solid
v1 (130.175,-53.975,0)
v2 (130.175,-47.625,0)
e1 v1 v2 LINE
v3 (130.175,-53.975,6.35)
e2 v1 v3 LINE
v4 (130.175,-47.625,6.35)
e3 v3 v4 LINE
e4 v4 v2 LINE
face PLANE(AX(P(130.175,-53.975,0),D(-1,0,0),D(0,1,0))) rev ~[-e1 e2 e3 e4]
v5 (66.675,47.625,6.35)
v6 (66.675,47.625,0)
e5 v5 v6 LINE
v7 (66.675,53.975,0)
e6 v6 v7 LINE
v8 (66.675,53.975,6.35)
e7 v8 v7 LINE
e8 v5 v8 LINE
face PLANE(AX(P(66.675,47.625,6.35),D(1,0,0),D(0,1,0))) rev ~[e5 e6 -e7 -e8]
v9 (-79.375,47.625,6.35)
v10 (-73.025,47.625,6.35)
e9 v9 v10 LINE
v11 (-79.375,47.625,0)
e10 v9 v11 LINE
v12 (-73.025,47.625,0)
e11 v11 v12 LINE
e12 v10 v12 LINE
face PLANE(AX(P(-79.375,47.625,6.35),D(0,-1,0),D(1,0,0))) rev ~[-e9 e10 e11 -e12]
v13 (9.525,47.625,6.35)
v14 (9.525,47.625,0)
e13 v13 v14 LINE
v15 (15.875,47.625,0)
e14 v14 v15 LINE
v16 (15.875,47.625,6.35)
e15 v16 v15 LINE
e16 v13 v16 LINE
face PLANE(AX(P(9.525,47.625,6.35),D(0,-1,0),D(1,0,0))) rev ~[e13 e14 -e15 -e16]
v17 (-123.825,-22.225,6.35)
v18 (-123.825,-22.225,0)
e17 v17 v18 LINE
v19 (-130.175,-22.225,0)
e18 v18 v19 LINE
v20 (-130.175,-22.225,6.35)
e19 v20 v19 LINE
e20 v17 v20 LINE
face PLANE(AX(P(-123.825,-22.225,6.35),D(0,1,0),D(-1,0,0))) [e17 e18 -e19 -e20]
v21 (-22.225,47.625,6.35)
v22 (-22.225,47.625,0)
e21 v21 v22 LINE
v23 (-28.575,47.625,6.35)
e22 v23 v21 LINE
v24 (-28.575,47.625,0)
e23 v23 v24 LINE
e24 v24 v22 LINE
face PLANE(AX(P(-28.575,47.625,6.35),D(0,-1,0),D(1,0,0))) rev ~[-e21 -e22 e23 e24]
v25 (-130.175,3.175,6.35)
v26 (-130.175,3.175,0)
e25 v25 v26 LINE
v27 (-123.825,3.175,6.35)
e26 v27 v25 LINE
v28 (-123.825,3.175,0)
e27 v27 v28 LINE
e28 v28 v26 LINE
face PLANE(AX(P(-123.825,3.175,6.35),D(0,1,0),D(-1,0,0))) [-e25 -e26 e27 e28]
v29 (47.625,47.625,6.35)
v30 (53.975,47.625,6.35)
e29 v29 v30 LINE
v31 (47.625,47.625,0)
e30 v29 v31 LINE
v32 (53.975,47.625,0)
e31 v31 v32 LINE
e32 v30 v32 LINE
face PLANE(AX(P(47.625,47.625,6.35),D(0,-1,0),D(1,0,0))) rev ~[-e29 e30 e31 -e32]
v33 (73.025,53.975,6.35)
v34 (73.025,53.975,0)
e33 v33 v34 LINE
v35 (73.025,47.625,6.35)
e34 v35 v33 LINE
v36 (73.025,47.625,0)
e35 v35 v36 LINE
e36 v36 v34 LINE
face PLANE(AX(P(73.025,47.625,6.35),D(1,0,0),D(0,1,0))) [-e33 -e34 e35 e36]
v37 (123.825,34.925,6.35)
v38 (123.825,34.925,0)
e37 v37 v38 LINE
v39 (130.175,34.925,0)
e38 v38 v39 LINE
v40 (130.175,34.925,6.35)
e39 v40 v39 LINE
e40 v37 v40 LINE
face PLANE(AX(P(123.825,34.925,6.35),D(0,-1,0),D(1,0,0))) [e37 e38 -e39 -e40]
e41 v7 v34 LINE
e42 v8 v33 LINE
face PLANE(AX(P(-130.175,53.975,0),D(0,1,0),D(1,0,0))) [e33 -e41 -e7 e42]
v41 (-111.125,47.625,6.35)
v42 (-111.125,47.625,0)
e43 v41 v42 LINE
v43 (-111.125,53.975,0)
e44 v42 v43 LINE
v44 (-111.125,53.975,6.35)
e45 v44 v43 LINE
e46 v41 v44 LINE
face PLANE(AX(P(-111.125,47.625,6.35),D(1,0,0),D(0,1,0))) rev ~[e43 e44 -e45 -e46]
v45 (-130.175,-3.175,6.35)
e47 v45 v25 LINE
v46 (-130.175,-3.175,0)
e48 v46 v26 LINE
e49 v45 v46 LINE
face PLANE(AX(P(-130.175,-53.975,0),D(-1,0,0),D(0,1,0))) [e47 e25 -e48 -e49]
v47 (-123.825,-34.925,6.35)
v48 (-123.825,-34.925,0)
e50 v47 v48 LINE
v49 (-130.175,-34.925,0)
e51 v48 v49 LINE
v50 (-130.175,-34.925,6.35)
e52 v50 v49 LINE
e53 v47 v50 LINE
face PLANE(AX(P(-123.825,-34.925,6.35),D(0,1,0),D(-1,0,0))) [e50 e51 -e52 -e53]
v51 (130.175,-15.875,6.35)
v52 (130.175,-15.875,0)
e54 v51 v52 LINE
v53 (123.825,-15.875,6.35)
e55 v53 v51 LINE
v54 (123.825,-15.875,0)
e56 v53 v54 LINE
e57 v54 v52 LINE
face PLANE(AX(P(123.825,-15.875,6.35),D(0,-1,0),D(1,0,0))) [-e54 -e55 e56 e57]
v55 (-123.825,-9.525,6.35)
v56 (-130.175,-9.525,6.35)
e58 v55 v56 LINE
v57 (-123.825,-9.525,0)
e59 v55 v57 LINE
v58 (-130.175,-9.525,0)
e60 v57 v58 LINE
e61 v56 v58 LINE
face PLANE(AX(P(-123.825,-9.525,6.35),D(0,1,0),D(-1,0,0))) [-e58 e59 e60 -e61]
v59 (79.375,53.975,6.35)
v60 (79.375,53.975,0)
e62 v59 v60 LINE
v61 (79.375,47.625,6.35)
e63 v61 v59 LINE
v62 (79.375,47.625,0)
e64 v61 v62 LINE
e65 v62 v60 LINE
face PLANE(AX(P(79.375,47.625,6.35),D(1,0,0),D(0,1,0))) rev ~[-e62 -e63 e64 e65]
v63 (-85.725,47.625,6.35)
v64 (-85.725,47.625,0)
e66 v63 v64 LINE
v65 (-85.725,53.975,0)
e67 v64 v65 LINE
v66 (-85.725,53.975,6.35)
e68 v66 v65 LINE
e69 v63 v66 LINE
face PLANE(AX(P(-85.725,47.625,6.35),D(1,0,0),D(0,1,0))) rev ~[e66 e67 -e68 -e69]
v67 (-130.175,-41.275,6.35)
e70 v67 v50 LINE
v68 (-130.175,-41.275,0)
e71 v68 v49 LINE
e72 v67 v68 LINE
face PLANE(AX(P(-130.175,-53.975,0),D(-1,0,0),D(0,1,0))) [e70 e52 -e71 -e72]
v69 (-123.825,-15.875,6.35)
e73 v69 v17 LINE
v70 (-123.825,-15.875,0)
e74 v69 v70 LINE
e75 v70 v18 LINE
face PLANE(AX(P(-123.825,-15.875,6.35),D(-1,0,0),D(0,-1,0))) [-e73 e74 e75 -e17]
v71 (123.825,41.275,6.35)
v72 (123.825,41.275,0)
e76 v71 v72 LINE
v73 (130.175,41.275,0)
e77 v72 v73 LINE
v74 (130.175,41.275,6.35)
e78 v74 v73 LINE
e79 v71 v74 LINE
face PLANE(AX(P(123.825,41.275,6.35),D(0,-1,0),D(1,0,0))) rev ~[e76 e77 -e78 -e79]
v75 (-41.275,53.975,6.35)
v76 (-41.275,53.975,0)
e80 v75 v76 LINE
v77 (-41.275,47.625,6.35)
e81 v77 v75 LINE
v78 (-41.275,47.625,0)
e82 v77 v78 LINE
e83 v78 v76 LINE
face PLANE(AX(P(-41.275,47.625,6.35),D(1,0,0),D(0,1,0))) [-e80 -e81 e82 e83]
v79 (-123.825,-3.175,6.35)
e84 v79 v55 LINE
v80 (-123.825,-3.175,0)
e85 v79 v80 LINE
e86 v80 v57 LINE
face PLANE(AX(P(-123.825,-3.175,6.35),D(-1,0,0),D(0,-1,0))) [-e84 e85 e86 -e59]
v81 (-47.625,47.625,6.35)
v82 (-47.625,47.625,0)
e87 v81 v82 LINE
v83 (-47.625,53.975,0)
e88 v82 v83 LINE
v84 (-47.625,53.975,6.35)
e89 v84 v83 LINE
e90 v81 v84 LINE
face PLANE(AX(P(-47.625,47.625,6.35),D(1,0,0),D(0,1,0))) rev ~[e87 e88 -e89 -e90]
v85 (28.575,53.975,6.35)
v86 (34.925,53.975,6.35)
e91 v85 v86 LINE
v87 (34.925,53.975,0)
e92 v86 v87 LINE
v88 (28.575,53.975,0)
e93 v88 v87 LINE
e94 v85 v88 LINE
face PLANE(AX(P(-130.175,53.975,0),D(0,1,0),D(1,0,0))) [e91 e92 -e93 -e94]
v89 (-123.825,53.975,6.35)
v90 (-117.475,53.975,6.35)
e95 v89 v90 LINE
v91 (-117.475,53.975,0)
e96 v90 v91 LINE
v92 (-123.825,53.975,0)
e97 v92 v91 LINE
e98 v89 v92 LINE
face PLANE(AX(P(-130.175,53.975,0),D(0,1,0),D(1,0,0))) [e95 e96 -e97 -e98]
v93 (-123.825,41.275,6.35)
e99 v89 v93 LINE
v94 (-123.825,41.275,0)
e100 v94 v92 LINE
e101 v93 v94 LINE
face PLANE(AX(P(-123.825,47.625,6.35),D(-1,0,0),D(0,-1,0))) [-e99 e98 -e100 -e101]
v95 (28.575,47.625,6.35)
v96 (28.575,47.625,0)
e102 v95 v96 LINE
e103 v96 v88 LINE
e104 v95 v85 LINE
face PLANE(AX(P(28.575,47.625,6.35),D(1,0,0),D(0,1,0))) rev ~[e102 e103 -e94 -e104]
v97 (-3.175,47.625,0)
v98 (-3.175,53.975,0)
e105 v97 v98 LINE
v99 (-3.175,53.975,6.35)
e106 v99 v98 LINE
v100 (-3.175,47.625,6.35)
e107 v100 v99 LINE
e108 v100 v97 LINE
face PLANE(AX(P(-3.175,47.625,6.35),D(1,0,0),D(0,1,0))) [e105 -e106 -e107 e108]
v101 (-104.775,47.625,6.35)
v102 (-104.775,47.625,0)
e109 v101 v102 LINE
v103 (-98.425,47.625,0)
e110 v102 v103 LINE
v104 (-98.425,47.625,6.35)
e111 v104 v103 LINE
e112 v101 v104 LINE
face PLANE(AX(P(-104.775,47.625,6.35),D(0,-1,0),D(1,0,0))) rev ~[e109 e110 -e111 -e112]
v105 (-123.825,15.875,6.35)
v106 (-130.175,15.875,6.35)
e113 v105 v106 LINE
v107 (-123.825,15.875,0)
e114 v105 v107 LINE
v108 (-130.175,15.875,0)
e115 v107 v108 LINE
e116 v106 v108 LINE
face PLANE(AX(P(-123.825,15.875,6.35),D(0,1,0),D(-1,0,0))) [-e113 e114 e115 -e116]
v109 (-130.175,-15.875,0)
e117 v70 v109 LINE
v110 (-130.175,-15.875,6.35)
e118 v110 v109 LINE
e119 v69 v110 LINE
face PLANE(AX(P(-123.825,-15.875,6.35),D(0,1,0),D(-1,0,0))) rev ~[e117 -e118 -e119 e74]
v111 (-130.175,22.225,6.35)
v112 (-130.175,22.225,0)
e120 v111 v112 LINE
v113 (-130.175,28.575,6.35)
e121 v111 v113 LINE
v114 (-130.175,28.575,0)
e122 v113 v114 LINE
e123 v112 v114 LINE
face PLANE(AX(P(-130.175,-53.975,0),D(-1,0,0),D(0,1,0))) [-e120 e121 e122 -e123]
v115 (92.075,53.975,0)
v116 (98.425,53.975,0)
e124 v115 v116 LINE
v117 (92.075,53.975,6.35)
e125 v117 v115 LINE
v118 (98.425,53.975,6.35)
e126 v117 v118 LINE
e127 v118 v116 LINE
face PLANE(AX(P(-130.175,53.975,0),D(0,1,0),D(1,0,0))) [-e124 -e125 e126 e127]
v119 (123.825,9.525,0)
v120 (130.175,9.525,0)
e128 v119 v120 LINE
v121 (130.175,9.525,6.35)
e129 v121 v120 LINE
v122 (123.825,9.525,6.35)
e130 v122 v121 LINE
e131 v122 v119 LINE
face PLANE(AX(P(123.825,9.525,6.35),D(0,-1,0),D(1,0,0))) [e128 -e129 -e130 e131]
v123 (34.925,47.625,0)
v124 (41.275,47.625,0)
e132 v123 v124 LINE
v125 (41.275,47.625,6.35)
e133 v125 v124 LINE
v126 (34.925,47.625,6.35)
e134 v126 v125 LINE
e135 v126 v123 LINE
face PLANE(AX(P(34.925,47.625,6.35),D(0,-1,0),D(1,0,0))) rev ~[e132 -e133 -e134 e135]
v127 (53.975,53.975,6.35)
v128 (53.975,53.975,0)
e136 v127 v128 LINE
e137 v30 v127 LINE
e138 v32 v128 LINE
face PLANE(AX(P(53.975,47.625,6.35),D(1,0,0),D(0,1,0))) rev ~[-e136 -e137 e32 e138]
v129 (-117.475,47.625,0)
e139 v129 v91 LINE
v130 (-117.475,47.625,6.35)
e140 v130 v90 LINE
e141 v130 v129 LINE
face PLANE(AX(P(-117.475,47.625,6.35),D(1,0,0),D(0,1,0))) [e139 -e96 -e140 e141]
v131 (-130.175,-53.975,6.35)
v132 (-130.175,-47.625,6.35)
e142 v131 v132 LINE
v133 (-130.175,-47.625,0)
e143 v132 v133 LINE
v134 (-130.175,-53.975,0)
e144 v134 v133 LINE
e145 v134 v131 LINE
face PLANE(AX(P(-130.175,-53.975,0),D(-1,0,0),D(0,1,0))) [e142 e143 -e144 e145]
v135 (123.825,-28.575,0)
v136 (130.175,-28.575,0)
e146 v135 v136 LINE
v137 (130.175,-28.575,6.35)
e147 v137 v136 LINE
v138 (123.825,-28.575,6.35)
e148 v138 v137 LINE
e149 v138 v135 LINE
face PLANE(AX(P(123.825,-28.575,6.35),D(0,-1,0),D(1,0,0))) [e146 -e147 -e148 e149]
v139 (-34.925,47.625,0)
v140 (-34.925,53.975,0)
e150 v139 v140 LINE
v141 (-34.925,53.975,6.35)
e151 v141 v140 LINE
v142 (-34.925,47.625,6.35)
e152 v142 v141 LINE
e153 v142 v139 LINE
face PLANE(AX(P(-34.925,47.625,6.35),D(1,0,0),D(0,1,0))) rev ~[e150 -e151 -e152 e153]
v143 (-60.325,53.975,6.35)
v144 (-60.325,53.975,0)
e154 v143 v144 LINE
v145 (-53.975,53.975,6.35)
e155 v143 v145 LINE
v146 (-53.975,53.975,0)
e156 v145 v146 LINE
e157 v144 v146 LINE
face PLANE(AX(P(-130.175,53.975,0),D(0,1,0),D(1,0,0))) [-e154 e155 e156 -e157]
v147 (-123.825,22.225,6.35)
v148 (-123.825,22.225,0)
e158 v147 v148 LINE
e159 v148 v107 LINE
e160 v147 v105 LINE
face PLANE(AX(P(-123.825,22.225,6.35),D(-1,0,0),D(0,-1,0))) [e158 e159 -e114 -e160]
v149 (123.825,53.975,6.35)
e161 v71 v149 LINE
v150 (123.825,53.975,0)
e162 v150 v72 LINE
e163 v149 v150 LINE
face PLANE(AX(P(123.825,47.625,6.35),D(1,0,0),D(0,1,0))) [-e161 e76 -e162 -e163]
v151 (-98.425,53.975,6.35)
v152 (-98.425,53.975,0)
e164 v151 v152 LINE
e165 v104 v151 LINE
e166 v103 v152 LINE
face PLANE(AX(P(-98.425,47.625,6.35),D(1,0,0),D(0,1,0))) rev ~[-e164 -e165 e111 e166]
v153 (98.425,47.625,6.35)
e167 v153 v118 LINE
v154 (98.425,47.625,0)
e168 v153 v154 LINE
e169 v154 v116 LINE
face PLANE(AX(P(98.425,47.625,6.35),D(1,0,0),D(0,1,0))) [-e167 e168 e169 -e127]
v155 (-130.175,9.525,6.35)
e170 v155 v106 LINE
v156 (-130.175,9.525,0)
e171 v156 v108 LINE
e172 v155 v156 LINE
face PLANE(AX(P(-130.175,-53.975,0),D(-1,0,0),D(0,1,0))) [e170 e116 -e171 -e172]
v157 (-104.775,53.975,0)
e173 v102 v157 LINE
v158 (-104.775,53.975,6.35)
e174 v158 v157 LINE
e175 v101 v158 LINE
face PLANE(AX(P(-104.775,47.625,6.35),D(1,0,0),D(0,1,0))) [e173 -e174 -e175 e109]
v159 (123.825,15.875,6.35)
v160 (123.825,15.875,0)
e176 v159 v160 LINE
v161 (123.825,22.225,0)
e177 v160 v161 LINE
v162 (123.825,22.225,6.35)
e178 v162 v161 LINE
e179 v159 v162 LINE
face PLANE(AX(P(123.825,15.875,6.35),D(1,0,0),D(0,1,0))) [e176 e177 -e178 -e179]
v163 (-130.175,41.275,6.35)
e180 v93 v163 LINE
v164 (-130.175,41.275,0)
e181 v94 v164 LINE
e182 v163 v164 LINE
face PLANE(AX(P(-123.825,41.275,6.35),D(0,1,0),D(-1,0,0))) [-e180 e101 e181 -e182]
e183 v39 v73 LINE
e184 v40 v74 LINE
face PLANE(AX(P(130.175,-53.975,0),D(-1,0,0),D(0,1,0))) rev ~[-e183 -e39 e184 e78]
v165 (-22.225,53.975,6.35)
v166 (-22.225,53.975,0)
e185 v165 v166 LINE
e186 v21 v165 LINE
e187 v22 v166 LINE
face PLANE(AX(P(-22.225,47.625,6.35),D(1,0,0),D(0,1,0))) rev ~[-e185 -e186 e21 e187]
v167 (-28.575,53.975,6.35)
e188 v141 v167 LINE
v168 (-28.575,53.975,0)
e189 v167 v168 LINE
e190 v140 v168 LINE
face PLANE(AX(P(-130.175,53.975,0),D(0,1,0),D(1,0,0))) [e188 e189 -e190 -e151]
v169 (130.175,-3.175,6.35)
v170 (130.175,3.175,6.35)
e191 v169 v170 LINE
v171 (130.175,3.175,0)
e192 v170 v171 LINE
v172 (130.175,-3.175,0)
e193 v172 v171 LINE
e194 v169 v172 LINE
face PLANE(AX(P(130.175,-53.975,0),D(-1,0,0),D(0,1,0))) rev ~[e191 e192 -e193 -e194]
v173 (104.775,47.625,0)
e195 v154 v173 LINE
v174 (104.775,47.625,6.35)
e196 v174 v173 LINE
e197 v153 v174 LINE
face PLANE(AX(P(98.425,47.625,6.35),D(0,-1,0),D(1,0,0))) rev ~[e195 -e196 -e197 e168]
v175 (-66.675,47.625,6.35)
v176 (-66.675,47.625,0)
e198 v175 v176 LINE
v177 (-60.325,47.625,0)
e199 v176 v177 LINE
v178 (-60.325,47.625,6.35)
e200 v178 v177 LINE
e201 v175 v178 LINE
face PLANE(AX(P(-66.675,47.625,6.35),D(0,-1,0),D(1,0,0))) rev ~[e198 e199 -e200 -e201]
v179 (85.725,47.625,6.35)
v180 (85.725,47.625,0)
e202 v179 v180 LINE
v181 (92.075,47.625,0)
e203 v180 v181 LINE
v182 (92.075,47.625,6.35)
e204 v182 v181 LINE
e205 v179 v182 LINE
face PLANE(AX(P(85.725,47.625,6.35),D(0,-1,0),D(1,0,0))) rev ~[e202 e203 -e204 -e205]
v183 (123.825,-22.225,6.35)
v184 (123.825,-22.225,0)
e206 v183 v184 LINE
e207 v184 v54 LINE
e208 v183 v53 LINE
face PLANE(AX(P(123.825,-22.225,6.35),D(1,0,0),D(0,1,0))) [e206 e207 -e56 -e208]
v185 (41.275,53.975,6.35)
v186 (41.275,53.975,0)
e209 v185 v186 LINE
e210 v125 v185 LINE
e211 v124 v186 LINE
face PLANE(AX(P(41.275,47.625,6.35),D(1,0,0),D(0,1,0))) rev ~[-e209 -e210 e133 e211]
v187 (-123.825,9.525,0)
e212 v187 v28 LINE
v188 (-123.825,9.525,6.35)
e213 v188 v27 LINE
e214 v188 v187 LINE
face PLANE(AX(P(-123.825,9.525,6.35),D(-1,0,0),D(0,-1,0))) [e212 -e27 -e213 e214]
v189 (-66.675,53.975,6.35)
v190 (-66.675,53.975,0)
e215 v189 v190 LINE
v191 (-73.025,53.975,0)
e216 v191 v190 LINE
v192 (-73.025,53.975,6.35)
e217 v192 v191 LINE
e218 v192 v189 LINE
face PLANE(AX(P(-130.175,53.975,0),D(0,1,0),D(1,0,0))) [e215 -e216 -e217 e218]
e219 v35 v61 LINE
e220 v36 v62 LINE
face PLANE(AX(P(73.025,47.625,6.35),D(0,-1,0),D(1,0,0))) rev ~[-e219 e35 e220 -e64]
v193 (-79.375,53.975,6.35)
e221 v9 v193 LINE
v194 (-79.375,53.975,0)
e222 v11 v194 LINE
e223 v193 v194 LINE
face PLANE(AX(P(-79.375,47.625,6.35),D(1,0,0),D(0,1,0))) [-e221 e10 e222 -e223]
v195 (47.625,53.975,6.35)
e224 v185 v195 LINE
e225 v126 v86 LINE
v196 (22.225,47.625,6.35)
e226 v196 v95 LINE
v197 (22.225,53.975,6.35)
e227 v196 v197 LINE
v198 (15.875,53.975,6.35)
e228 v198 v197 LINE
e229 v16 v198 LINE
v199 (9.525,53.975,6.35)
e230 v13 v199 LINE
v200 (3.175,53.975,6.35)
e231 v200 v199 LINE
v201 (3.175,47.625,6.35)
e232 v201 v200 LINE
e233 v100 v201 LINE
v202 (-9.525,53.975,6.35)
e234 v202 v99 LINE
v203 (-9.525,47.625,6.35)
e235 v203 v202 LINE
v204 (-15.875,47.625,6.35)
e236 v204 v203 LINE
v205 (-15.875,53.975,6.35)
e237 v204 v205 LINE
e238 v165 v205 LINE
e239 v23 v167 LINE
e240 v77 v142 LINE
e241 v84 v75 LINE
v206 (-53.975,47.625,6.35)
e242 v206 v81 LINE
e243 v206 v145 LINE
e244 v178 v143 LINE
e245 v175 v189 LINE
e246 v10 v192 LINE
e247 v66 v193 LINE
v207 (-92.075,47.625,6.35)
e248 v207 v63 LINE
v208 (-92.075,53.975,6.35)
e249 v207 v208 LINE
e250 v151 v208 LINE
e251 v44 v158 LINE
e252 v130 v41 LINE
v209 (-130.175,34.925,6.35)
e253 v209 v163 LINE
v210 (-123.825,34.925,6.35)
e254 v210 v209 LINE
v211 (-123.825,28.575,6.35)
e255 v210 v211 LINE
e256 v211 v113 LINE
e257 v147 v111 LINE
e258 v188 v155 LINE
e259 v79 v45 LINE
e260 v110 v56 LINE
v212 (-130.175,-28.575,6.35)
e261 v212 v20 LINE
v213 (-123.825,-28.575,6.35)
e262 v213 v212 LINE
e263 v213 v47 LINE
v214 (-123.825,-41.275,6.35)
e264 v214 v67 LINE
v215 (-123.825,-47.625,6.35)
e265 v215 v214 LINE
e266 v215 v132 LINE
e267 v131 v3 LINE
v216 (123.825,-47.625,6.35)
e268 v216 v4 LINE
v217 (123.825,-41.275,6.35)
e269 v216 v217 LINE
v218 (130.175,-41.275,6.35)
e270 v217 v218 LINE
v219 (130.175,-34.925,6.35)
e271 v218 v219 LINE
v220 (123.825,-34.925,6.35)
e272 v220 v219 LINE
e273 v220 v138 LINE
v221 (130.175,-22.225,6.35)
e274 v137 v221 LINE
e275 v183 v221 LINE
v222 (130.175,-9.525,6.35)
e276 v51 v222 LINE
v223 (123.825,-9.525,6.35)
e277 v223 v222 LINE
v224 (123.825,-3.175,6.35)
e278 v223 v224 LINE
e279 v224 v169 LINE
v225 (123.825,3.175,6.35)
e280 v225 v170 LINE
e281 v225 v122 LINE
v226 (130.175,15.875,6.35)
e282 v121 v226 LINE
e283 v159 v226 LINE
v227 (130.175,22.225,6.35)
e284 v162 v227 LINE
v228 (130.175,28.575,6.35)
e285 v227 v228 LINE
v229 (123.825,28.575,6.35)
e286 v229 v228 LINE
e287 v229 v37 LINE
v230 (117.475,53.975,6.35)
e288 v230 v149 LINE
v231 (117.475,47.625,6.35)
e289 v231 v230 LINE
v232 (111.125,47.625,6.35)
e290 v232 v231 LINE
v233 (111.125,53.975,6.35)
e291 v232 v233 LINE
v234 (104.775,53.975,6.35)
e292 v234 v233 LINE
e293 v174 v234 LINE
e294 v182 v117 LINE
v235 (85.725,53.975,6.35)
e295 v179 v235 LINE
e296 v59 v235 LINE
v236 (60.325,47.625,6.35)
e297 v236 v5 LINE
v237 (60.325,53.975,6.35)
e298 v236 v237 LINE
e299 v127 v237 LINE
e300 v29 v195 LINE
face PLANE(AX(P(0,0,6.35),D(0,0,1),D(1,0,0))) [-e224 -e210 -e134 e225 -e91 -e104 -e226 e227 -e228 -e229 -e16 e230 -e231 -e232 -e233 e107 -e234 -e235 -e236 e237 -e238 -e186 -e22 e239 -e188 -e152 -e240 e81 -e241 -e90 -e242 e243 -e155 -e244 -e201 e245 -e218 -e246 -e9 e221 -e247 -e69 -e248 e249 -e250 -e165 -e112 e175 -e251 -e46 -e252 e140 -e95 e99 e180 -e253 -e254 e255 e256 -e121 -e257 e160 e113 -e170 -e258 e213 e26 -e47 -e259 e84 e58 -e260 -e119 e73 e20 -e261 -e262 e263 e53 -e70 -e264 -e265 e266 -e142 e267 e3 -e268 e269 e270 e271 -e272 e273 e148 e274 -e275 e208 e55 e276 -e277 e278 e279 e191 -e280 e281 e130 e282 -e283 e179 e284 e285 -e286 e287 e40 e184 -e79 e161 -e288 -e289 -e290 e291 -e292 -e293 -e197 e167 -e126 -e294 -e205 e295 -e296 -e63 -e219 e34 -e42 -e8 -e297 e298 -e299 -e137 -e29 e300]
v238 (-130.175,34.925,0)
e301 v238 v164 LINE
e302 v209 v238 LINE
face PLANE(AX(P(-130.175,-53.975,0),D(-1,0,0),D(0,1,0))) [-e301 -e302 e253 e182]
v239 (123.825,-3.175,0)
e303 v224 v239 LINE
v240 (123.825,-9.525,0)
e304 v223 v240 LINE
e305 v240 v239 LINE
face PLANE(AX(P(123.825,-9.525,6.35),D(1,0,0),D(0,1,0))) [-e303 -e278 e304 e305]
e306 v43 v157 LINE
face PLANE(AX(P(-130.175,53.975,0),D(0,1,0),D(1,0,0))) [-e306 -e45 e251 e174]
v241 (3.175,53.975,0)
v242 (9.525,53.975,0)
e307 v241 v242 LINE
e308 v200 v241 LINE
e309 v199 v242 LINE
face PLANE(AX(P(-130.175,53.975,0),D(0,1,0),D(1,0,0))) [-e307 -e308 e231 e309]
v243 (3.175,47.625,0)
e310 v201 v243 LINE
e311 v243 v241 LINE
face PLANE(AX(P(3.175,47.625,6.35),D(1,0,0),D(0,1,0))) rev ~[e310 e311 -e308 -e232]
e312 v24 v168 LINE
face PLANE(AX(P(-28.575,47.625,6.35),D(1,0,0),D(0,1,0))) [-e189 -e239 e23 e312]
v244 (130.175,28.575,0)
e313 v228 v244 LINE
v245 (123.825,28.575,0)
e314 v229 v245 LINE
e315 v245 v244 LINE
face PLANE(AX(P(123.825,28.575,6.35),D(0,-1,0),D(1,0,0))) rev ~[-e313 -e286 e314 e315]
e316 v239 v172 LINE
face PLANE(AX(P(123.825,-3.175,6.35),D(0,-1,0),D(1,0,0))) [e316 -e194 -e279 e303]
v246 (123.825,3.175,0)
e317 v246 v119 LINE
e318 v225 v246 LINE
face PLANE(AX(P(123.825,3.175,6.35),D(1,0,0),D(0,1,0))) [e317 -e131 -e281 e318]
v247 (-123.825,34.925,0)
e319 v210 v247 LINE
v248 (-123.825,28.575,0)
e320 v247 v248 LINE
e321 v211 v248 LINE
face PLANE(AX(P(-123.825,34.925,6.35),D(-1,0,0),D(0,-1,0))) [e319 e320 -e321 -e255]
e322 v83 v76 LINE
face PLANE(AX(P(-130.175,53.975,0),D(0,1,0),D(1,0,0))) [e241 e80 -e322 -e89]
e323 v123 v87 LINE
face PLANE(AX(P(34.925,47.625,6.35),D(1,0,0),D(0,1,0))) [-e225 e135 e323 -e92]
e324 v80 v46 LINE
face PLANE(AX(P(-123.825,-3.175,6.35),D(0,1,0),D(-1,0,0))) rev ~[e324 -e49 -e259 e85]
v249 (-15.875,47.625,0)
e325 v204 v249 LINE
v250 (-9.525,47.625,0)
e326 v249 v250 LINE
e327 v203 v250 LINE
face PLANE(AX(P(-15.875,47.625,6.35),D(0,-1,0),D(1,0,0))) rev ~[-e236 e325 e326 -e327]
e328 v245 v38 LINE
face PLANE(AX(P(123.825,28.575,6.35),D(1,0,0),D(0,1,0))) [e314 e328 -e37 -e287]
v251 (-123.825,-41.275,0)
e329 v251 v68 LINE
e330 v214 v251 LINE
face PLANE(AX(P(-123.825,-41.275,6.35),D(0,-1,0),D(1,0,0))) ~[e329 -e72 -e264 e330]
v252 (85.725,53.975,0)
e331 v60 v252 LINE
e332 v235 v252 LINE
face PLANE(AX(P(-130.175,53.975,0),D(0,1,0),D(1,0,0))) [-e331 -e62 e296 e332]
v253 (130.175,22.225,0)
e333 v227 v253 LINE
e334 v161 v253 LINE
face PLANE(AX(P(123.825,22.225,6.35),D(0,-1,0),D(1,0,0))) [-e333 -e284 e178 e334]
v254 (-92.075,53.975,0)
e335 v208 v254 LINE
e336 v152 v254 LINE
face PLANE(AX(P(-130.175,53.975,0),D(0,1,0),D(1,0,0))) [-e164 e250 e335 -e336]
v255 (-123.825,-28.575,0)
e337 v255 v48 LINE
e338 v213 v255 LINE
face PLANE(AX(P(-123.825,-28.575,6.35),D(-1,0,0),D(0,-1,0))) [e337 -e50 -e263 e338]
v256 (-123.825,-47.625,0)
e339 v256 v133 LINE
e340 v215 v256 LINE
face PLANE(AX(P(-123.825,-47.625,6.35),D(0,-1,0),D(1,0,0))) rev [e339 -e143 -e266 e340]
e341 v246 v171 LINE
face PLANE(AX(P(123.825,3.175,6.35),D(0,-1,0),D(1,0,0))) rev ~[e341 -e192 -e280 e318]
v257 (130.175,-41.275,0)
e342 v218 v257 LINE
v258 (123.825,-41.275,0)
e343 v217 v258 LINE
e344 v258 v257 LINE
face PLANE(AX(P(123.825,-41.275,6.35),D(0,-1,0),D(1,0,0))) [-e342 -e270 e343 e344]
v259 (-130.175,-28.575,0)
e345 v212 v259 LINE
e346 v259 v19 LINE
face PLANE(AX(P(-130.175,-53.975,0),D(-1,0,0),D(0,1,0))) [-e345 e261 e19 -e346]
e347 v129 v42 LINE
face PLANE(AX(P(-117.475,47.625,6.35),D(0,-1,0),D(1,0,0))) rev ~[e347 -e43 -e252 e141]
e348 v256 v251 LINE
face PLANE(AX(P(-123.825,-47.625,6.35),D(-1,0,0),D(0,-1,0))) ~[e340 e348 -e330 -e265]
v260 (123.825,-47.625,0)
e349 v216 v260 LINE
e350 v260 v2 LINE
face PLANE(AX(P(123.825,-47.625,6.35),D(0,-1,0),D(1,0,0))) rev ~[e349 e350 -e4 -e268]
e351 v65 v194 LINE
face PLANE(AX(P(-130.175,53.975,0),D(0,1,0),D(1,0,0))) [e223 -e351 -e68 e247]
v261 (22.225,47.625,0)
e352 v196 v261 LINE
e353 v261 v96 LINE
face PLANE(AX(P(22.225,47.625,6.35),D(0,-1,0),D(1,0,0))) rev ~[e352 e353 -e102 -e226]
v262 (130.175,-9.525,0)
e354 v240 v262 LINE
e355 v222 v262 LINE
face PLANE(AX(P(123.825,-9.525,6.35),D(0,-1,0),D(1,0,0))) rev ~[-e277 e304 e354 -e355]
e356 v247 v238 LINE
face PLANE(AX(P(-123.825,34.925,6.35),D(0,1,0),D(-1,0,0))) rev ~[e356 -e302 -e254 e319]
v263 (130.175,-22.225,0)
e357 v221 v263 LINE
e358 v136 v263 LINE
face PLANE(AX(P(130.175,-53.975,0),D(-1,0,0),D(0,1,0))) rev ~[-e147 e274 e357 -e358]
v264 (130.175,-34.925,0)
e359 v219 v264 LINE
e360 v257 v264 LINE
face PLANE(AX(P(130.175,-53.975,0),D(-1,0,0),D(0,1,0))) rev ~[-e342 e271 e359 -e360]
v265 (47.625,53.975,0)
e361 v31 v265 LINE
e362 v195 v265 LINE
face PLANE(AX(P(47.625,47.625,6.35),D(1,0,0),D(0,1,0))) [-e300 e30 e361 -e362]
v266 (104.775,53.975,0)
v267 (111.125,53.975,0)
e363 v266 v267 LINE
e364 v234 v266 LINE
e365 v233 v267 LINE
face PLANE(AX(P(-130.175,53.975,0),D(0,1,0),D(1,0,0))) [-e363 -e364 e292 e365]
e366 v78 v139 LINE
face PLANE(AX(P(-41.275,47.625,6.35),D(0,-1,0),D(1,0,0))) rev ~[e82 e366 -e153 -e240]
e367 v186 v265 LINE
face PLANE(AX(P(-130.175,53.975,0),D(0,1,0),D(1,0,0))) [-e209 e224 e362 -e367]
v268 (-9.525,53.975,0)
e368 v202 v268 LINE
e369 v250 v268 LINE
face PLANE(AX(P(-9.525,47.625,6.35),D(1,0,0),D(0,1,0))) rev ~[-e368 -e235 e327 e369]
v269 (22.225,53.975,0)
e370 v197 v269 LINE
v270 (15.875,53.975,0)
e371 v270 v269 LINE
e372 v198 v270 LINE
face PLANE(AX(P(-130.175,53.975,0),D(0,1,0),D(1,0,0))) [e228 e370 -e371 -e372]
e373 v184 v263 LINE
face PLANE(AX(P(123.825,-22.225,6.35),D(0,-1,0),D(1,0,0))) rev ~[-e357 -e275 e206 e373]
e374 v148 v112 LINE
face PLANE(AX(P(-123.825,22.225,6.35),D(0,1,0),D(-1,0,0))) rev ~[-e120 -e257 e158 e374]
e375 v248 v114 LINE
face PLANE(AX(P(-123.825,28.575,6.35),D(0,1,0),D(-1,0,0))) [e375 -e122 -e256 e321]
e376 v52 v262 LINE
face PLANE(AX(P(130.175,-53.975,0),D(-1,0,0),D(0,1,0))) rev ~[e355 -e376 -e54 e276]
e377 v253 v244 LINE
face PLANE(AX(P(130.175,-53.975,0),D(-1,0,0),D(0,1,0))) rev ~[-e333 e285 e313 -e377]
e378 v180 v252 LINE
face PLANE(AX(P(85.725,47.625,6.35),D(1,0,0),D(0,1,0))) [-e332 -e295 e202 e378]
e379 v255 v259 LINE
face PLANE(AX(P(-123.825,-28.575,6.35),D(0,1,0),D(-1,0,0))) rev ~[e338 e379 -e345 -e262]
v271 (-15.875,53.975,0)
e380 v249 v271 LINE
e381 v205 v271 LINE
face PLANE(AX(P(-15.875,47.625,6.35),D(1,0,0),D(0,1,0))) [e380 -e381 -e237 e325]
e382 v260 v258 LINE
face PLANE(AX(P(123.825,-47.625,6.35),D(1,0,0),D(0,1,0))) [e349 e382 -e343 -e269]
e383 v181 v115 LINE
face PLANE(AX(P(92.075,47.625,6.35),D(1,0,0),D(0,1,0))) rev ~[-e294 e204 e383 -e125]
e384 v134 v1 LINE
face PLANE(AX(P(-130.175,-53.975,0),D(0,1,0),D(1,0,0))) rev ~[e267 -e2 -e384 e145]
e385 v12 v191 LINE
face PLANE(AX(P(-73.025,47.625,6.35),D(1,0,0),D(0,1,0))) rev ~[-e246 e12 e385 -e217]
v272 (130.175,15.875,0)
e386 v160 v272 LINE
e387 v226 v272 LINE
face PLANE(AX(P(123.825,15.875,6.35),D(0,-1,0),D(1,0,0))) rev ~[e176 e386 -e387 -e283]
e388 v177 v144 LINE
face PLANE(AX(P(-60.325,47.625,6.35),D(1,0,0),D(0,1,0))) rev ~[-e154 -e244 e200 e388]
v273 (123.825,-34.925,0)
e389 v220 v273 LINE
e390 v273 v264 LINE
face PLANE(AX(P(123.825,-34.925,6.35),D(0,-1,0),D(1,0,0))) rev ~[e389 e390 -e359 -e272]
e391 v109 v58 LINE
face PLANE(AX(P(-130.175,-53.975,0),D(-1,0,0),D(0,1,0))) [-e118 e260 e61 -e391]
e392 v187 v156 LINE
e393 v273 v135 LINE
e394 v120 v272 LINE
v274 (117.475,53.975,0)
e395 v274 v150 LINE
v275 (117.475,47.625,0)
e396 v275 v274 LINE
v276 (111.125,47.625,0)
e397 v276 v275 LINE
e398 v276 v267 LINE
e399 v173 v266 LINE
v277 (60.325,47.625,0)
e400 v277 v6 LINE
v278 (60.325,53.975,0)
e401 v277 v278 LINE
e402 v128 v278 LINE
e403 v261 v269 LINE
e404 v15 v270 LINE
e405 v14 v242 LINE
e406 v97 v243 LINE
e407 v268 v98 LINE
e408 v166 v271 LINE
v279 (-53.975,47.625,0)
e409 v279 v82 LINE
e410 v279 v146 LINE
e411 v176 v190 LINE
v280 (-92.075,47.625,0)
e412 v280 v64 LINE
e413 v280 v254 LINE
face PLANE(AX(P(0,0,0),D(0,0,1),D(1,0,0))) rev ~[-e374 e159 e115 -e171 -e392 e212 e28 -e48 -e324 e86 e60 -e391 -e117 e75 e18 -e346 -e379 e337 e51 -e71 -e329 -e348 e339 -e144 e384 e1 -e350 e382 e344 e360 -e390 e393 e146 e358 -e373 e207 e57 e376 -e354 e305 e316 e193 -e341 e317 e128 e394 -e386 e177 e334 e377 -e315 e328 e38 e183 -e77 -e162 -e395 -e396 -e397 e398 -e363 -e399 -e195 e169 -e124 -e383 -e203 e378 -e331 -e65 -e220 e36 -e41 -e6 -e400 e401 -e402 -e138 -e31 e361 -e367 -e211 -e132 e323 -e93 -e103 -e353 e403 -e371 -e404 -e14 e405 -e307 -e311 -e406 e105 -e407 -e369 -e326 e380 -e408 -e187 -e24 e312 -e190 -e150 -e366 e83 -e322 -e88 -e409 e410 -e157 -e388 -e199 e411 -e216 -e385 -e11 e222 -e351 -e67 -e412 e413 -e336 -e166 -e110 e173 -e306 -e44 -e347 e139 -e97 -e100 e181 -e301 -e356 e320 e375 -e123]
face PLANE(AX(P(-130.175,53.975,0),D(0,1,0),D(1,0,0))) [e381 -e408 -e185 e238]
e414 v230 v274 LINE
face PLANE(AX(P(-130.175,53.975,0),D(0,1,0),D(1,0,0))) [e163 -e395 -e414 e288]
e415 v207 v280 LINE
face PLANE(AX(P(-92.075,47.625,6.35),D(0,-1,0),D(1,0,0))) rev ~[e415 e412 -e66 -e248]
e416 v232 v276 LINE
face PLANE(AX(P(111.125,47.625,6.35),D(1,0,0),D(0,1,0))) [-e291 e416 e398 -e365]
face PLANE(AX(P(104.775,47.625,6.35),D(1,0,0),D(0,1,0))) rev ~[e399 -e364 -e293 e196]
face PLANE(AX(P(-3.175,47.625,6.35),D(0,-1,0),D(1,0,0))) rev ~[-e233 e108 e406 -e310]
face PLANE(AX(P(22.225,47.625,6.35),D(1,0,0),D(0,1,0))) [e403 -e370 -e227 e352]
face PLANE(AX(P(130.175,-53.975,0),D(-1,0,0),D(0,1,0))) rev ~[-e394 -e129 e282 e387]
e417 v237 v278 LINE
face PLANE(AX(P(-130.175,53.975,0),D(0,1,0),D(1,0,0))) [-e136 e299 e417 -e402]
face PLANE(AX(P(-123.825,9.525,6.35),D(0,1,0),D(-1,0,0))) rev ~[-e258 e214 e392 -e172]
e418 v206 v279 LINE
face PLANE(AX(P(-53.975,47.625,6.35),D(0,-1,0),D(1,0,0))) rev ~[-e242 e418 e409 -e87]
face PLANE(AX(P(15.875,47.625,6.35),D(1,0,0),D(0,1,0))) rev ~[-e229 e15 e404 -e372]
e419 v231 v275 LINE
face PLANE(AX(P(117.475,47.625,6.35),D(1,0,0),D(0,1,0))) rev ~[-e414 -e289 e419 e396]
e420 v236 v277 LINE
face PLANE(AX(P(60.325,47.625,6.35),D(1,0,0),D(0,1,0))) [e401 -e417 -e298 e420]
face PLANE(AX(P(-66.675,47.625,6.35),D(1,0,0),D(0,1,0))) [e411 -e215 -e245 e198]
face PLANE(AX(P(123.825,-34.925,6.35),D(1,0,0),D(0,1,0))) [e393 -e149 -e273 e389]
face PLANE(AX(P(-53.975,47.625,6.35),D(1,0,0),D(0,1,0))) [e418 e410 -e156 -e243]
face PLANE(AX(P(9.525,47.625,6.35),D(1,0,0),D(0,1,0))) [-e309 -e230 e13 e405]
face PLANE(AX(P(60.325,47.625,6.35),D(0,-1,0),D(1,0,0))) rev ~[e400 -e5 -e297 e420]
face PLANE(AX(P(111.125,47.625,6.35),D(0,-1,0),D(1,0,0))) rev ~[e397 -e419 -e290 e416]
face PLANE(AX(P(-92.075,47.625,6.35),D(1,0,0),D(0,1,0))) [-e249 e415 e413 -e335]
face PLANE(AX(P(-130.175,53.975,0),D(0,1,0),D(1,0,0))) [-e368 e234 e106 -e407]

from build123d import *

# Parameters (mm, degrees)
SKETCH1_W               = 260.35
SKETCH1_H               = 107.95
BOSS_EXTRUDE1_DEPTH     = 6.35
SKETCH3_W               = 6.35
SKETCH3_H               = 6.35
CUT_EXTRUDE1_DEPTH      = 7.35
LPATTERN1_COUNT         = 8
LPATTERN1_PITCH         = 12.7
MIRROR1_COPY_1_SKETCH_W = 6.35
MIRROR1_COPY_1_SKETCH_H = 6.35
MIRROR1_COPY_1_DEPTH    = 7.35
MIRROR1_COPY_2_SKETCH_W = 6.35
MIRROR1_COPY_2_SKETCH_H = 6.35
MIRROR1_COPY_2_DEPTH    = 7.35
MIRROR1_COPY_3_SKETCH_W = 6.35
MIRROR1_COPY_3_SKETCH_H = 6.35
MIRROR1_COPY_3_DEPTH    = 7.35
MIRROR1_COPY_4_SKETCH_W = 6.35
MIRROR1_COPY_4_SKETCH_H = 6.35
MIRROR1_COPY_4_DEPTH    = 7.35
MIRROR1_COPY_5_SKETCH_W = 6.35
MIRROR1_COPY_5_SKETCH_H = 6.35
MIRROR1_COPY_5_DEPTH    = 7.35
MIRROR1_COPY_6_SKETCH_W = 6.35
MIRROR1_COPY_6_SKETCH_H = 6.35
MIRROR1_COPY_6_DEPTH    = 7.35
MIRROR1_COPY_7_SKETCH_W = 6.35
MIRROR1_COPY_7_SKETCH_H = 6.35
MIRROR1_COPY_7_DEPTH    = 7.35
SKETCH4_W               = 6.35
SKETCH4_H               = 6.35
CUT_EXTRUDE2_DEPTH      = 6.35
LPATTERN2_COUNT         = 21
LPATTERN2_PITCH         = 12.7


with BuildPart() as part:
    # Sketch1 → Boss-Extrude1 (new body)
    with BuildSketch(Plane.XY):
        Rectangle(SKETCH1_W, SKETCH1_H)
    extrude(amount=BOSS_EXTRUDE1_DEPTH)

    # Sketch3 → Cut-Extrude1 (cut, through all)
    with BuildSketch(Plane.XY.offset(6.35)):
        with Locations((127, -44.45)):
            Rectangle(SKETCH3_W, SKETCH3_H)
    cut_extrude1 = extrude(amount=-CUT_EXTRUDE1_DEPTH, mode=Mode.SUBTRACT)

    # LPattern1: Cut-Extrude1 ×8
    with Locations(*[(0, i * LPATTERN1_PITCH, 0) for i in range(1, LPATTERN1_COUNT)]):
        add(cut_extrude1, mode=Mode.SUBTRACT)

    # Mirror1: Cut-Extrude1 across plane
    add(cut_extrude1.mirror(Plane(origin=(0, 0, 0), x_dir=(0, 0, 1), z_dir=(1, 0, 0))), mode=Mode.SUBTRACT)

    # Mirror1 copy 1 sketch → Mirror1 copy 1 (cut, through all)
    with BuildSketch(Plane(origin=(0, 12.7, 6.35), x_dir=(-1, 0, 0), z_dir=(0, 0, 1))):
        with Locations((127, 44.45)):
            Rectangle(MIRROR1_COPY_1_SKETCH_W, MIRROR1_COPY_1_SKETCH_H)
    extrude(amount=-MIRROR1_COPY_1_DEPTH, mode=Mode.SUBTRACT)

    # Mirror1 copy 2 sketch → Mirror1 copy 2 (cut, through all)
    with BuildSketch(Plane(origin=(0, 25.4, 6.35), x_dir=(-1, 0, 0), z_dir=(0, 0, 1))):
        with Locations((127, 44.45)):
            Rectangle(MIRROR1_COPY_2_SKETCH_W, MIRROR1_COPY_2_SKETCH_H)
    extrude(amount=-MIRROR1_COPY_2_DEPTH, mode=Mode.SUBTRACT)

    # Mirror1 copy 3 sketch → Mirror1 copy 3 (cut, through all)
    with BuildSketch(Plane(origin=(0, 38.1, 6.35), x_dir=(-1, 0, 0), z_dir=(0, 0, 1))):
        with Locations((127, 44.45)):
            Rectangle(MIRROR1_COPY_3_SKETCH_W, MIRROR1_COPY_3_SKETCH_H)
    extrude(amount=-MIRROR1_COPY_3_DEPTH, mode=Mode.SUBTRACT)

    # Mirror1 copy 4 sketch → Mirror1 copy 4 (cut, through all)
    with BuildSketch(Plane(origin=(0, 50.8, 6.35), x_dir=(-1, 0, 0), z_dir=(0, 0, 1))):
        with Locations((127, 44.45)):
            Rectangle(MIRROR1_COPY_4_SKETCH_W, MIRROR1_COPY_4_SKETCH_H)
    extrude(amount=-MIRROR1_COPY_4_DEPTH, mode=Mode.SUBTRACT)

    # Mirror1 copy 5 sketch → Mirror1 copy 5 (cut, through all)
    with BuildSketch(Plane(origin=(0, 63.5, 6.35), x_dir=(-1, 0, 0), z_dir=(0, 0, 1))):
        with Locations((127, 44.45)):
            Rectangle(MIRROR1_COPY_5_SKETCH_W, MIRROR1_COPY_5_SKETCH_H)
    extrude(amount=-MIRROR1_COPY_5_DEPTH, mode=Mode.SUBTRACT)

    # Mirror1 copy 6 sketch → Mirror1 copy 6 (cut, through all)
    with BuildSketch(Plane(origin=(0, 76.2, 6.35), x_dir=(-1, 0, 0), z_dir=(0, 0, 1))):
        with Locations((127, 44.45)):
            Rectangle(MIRROR1_COPY_6_SKETCH_W, MIRROR1_COPY_6_SKETCH_H)
    extrude(amount=-MIRROR1_COPY_6_DEPTH, mode=Mode.SUBTRACT)

    # Mirror1 copy 7 sketch → Mirror1 copy 7 (cut, through all)
    with BuildSketch(Plane(origin=(0, 88.9, 6.35), x_dir=(-1, 0, 0), z_dir=(0, 0, 1))):
        with Locations((127, 44.45)):
            Rectangle(MIRROR1_COPY_7_SKETCH_W, MIRROR1_COPY_7_SKETCH_H)
    extrude(amount=-MIRROR1_COPY_7_DEPTH, mode=Mode.SUBTRACT)

    # Sketch4 → Cut-Extrude2 (cut)
    with BuildSketch(Plane.XY.offset(6.35)):
        with Locations((-127, 50.8)):
            Rectangle(SKETCH4_W, SKETCH4_H)
    cut_extrude2 = extrude(amount=-CUT_EXTRUDE2_DEPTH, mode=Mode.SUBTRACT)

    # LPattern2: Cut-Extrude2 ×21
    with Locations(*[(i * LPATTERN2_PITCH, 0, 0) for i in range(1, LPATTERN2_COUNT)]):
        add(cut_extrude2, mode=Mode.SUBTRACT)


solid = part.part
